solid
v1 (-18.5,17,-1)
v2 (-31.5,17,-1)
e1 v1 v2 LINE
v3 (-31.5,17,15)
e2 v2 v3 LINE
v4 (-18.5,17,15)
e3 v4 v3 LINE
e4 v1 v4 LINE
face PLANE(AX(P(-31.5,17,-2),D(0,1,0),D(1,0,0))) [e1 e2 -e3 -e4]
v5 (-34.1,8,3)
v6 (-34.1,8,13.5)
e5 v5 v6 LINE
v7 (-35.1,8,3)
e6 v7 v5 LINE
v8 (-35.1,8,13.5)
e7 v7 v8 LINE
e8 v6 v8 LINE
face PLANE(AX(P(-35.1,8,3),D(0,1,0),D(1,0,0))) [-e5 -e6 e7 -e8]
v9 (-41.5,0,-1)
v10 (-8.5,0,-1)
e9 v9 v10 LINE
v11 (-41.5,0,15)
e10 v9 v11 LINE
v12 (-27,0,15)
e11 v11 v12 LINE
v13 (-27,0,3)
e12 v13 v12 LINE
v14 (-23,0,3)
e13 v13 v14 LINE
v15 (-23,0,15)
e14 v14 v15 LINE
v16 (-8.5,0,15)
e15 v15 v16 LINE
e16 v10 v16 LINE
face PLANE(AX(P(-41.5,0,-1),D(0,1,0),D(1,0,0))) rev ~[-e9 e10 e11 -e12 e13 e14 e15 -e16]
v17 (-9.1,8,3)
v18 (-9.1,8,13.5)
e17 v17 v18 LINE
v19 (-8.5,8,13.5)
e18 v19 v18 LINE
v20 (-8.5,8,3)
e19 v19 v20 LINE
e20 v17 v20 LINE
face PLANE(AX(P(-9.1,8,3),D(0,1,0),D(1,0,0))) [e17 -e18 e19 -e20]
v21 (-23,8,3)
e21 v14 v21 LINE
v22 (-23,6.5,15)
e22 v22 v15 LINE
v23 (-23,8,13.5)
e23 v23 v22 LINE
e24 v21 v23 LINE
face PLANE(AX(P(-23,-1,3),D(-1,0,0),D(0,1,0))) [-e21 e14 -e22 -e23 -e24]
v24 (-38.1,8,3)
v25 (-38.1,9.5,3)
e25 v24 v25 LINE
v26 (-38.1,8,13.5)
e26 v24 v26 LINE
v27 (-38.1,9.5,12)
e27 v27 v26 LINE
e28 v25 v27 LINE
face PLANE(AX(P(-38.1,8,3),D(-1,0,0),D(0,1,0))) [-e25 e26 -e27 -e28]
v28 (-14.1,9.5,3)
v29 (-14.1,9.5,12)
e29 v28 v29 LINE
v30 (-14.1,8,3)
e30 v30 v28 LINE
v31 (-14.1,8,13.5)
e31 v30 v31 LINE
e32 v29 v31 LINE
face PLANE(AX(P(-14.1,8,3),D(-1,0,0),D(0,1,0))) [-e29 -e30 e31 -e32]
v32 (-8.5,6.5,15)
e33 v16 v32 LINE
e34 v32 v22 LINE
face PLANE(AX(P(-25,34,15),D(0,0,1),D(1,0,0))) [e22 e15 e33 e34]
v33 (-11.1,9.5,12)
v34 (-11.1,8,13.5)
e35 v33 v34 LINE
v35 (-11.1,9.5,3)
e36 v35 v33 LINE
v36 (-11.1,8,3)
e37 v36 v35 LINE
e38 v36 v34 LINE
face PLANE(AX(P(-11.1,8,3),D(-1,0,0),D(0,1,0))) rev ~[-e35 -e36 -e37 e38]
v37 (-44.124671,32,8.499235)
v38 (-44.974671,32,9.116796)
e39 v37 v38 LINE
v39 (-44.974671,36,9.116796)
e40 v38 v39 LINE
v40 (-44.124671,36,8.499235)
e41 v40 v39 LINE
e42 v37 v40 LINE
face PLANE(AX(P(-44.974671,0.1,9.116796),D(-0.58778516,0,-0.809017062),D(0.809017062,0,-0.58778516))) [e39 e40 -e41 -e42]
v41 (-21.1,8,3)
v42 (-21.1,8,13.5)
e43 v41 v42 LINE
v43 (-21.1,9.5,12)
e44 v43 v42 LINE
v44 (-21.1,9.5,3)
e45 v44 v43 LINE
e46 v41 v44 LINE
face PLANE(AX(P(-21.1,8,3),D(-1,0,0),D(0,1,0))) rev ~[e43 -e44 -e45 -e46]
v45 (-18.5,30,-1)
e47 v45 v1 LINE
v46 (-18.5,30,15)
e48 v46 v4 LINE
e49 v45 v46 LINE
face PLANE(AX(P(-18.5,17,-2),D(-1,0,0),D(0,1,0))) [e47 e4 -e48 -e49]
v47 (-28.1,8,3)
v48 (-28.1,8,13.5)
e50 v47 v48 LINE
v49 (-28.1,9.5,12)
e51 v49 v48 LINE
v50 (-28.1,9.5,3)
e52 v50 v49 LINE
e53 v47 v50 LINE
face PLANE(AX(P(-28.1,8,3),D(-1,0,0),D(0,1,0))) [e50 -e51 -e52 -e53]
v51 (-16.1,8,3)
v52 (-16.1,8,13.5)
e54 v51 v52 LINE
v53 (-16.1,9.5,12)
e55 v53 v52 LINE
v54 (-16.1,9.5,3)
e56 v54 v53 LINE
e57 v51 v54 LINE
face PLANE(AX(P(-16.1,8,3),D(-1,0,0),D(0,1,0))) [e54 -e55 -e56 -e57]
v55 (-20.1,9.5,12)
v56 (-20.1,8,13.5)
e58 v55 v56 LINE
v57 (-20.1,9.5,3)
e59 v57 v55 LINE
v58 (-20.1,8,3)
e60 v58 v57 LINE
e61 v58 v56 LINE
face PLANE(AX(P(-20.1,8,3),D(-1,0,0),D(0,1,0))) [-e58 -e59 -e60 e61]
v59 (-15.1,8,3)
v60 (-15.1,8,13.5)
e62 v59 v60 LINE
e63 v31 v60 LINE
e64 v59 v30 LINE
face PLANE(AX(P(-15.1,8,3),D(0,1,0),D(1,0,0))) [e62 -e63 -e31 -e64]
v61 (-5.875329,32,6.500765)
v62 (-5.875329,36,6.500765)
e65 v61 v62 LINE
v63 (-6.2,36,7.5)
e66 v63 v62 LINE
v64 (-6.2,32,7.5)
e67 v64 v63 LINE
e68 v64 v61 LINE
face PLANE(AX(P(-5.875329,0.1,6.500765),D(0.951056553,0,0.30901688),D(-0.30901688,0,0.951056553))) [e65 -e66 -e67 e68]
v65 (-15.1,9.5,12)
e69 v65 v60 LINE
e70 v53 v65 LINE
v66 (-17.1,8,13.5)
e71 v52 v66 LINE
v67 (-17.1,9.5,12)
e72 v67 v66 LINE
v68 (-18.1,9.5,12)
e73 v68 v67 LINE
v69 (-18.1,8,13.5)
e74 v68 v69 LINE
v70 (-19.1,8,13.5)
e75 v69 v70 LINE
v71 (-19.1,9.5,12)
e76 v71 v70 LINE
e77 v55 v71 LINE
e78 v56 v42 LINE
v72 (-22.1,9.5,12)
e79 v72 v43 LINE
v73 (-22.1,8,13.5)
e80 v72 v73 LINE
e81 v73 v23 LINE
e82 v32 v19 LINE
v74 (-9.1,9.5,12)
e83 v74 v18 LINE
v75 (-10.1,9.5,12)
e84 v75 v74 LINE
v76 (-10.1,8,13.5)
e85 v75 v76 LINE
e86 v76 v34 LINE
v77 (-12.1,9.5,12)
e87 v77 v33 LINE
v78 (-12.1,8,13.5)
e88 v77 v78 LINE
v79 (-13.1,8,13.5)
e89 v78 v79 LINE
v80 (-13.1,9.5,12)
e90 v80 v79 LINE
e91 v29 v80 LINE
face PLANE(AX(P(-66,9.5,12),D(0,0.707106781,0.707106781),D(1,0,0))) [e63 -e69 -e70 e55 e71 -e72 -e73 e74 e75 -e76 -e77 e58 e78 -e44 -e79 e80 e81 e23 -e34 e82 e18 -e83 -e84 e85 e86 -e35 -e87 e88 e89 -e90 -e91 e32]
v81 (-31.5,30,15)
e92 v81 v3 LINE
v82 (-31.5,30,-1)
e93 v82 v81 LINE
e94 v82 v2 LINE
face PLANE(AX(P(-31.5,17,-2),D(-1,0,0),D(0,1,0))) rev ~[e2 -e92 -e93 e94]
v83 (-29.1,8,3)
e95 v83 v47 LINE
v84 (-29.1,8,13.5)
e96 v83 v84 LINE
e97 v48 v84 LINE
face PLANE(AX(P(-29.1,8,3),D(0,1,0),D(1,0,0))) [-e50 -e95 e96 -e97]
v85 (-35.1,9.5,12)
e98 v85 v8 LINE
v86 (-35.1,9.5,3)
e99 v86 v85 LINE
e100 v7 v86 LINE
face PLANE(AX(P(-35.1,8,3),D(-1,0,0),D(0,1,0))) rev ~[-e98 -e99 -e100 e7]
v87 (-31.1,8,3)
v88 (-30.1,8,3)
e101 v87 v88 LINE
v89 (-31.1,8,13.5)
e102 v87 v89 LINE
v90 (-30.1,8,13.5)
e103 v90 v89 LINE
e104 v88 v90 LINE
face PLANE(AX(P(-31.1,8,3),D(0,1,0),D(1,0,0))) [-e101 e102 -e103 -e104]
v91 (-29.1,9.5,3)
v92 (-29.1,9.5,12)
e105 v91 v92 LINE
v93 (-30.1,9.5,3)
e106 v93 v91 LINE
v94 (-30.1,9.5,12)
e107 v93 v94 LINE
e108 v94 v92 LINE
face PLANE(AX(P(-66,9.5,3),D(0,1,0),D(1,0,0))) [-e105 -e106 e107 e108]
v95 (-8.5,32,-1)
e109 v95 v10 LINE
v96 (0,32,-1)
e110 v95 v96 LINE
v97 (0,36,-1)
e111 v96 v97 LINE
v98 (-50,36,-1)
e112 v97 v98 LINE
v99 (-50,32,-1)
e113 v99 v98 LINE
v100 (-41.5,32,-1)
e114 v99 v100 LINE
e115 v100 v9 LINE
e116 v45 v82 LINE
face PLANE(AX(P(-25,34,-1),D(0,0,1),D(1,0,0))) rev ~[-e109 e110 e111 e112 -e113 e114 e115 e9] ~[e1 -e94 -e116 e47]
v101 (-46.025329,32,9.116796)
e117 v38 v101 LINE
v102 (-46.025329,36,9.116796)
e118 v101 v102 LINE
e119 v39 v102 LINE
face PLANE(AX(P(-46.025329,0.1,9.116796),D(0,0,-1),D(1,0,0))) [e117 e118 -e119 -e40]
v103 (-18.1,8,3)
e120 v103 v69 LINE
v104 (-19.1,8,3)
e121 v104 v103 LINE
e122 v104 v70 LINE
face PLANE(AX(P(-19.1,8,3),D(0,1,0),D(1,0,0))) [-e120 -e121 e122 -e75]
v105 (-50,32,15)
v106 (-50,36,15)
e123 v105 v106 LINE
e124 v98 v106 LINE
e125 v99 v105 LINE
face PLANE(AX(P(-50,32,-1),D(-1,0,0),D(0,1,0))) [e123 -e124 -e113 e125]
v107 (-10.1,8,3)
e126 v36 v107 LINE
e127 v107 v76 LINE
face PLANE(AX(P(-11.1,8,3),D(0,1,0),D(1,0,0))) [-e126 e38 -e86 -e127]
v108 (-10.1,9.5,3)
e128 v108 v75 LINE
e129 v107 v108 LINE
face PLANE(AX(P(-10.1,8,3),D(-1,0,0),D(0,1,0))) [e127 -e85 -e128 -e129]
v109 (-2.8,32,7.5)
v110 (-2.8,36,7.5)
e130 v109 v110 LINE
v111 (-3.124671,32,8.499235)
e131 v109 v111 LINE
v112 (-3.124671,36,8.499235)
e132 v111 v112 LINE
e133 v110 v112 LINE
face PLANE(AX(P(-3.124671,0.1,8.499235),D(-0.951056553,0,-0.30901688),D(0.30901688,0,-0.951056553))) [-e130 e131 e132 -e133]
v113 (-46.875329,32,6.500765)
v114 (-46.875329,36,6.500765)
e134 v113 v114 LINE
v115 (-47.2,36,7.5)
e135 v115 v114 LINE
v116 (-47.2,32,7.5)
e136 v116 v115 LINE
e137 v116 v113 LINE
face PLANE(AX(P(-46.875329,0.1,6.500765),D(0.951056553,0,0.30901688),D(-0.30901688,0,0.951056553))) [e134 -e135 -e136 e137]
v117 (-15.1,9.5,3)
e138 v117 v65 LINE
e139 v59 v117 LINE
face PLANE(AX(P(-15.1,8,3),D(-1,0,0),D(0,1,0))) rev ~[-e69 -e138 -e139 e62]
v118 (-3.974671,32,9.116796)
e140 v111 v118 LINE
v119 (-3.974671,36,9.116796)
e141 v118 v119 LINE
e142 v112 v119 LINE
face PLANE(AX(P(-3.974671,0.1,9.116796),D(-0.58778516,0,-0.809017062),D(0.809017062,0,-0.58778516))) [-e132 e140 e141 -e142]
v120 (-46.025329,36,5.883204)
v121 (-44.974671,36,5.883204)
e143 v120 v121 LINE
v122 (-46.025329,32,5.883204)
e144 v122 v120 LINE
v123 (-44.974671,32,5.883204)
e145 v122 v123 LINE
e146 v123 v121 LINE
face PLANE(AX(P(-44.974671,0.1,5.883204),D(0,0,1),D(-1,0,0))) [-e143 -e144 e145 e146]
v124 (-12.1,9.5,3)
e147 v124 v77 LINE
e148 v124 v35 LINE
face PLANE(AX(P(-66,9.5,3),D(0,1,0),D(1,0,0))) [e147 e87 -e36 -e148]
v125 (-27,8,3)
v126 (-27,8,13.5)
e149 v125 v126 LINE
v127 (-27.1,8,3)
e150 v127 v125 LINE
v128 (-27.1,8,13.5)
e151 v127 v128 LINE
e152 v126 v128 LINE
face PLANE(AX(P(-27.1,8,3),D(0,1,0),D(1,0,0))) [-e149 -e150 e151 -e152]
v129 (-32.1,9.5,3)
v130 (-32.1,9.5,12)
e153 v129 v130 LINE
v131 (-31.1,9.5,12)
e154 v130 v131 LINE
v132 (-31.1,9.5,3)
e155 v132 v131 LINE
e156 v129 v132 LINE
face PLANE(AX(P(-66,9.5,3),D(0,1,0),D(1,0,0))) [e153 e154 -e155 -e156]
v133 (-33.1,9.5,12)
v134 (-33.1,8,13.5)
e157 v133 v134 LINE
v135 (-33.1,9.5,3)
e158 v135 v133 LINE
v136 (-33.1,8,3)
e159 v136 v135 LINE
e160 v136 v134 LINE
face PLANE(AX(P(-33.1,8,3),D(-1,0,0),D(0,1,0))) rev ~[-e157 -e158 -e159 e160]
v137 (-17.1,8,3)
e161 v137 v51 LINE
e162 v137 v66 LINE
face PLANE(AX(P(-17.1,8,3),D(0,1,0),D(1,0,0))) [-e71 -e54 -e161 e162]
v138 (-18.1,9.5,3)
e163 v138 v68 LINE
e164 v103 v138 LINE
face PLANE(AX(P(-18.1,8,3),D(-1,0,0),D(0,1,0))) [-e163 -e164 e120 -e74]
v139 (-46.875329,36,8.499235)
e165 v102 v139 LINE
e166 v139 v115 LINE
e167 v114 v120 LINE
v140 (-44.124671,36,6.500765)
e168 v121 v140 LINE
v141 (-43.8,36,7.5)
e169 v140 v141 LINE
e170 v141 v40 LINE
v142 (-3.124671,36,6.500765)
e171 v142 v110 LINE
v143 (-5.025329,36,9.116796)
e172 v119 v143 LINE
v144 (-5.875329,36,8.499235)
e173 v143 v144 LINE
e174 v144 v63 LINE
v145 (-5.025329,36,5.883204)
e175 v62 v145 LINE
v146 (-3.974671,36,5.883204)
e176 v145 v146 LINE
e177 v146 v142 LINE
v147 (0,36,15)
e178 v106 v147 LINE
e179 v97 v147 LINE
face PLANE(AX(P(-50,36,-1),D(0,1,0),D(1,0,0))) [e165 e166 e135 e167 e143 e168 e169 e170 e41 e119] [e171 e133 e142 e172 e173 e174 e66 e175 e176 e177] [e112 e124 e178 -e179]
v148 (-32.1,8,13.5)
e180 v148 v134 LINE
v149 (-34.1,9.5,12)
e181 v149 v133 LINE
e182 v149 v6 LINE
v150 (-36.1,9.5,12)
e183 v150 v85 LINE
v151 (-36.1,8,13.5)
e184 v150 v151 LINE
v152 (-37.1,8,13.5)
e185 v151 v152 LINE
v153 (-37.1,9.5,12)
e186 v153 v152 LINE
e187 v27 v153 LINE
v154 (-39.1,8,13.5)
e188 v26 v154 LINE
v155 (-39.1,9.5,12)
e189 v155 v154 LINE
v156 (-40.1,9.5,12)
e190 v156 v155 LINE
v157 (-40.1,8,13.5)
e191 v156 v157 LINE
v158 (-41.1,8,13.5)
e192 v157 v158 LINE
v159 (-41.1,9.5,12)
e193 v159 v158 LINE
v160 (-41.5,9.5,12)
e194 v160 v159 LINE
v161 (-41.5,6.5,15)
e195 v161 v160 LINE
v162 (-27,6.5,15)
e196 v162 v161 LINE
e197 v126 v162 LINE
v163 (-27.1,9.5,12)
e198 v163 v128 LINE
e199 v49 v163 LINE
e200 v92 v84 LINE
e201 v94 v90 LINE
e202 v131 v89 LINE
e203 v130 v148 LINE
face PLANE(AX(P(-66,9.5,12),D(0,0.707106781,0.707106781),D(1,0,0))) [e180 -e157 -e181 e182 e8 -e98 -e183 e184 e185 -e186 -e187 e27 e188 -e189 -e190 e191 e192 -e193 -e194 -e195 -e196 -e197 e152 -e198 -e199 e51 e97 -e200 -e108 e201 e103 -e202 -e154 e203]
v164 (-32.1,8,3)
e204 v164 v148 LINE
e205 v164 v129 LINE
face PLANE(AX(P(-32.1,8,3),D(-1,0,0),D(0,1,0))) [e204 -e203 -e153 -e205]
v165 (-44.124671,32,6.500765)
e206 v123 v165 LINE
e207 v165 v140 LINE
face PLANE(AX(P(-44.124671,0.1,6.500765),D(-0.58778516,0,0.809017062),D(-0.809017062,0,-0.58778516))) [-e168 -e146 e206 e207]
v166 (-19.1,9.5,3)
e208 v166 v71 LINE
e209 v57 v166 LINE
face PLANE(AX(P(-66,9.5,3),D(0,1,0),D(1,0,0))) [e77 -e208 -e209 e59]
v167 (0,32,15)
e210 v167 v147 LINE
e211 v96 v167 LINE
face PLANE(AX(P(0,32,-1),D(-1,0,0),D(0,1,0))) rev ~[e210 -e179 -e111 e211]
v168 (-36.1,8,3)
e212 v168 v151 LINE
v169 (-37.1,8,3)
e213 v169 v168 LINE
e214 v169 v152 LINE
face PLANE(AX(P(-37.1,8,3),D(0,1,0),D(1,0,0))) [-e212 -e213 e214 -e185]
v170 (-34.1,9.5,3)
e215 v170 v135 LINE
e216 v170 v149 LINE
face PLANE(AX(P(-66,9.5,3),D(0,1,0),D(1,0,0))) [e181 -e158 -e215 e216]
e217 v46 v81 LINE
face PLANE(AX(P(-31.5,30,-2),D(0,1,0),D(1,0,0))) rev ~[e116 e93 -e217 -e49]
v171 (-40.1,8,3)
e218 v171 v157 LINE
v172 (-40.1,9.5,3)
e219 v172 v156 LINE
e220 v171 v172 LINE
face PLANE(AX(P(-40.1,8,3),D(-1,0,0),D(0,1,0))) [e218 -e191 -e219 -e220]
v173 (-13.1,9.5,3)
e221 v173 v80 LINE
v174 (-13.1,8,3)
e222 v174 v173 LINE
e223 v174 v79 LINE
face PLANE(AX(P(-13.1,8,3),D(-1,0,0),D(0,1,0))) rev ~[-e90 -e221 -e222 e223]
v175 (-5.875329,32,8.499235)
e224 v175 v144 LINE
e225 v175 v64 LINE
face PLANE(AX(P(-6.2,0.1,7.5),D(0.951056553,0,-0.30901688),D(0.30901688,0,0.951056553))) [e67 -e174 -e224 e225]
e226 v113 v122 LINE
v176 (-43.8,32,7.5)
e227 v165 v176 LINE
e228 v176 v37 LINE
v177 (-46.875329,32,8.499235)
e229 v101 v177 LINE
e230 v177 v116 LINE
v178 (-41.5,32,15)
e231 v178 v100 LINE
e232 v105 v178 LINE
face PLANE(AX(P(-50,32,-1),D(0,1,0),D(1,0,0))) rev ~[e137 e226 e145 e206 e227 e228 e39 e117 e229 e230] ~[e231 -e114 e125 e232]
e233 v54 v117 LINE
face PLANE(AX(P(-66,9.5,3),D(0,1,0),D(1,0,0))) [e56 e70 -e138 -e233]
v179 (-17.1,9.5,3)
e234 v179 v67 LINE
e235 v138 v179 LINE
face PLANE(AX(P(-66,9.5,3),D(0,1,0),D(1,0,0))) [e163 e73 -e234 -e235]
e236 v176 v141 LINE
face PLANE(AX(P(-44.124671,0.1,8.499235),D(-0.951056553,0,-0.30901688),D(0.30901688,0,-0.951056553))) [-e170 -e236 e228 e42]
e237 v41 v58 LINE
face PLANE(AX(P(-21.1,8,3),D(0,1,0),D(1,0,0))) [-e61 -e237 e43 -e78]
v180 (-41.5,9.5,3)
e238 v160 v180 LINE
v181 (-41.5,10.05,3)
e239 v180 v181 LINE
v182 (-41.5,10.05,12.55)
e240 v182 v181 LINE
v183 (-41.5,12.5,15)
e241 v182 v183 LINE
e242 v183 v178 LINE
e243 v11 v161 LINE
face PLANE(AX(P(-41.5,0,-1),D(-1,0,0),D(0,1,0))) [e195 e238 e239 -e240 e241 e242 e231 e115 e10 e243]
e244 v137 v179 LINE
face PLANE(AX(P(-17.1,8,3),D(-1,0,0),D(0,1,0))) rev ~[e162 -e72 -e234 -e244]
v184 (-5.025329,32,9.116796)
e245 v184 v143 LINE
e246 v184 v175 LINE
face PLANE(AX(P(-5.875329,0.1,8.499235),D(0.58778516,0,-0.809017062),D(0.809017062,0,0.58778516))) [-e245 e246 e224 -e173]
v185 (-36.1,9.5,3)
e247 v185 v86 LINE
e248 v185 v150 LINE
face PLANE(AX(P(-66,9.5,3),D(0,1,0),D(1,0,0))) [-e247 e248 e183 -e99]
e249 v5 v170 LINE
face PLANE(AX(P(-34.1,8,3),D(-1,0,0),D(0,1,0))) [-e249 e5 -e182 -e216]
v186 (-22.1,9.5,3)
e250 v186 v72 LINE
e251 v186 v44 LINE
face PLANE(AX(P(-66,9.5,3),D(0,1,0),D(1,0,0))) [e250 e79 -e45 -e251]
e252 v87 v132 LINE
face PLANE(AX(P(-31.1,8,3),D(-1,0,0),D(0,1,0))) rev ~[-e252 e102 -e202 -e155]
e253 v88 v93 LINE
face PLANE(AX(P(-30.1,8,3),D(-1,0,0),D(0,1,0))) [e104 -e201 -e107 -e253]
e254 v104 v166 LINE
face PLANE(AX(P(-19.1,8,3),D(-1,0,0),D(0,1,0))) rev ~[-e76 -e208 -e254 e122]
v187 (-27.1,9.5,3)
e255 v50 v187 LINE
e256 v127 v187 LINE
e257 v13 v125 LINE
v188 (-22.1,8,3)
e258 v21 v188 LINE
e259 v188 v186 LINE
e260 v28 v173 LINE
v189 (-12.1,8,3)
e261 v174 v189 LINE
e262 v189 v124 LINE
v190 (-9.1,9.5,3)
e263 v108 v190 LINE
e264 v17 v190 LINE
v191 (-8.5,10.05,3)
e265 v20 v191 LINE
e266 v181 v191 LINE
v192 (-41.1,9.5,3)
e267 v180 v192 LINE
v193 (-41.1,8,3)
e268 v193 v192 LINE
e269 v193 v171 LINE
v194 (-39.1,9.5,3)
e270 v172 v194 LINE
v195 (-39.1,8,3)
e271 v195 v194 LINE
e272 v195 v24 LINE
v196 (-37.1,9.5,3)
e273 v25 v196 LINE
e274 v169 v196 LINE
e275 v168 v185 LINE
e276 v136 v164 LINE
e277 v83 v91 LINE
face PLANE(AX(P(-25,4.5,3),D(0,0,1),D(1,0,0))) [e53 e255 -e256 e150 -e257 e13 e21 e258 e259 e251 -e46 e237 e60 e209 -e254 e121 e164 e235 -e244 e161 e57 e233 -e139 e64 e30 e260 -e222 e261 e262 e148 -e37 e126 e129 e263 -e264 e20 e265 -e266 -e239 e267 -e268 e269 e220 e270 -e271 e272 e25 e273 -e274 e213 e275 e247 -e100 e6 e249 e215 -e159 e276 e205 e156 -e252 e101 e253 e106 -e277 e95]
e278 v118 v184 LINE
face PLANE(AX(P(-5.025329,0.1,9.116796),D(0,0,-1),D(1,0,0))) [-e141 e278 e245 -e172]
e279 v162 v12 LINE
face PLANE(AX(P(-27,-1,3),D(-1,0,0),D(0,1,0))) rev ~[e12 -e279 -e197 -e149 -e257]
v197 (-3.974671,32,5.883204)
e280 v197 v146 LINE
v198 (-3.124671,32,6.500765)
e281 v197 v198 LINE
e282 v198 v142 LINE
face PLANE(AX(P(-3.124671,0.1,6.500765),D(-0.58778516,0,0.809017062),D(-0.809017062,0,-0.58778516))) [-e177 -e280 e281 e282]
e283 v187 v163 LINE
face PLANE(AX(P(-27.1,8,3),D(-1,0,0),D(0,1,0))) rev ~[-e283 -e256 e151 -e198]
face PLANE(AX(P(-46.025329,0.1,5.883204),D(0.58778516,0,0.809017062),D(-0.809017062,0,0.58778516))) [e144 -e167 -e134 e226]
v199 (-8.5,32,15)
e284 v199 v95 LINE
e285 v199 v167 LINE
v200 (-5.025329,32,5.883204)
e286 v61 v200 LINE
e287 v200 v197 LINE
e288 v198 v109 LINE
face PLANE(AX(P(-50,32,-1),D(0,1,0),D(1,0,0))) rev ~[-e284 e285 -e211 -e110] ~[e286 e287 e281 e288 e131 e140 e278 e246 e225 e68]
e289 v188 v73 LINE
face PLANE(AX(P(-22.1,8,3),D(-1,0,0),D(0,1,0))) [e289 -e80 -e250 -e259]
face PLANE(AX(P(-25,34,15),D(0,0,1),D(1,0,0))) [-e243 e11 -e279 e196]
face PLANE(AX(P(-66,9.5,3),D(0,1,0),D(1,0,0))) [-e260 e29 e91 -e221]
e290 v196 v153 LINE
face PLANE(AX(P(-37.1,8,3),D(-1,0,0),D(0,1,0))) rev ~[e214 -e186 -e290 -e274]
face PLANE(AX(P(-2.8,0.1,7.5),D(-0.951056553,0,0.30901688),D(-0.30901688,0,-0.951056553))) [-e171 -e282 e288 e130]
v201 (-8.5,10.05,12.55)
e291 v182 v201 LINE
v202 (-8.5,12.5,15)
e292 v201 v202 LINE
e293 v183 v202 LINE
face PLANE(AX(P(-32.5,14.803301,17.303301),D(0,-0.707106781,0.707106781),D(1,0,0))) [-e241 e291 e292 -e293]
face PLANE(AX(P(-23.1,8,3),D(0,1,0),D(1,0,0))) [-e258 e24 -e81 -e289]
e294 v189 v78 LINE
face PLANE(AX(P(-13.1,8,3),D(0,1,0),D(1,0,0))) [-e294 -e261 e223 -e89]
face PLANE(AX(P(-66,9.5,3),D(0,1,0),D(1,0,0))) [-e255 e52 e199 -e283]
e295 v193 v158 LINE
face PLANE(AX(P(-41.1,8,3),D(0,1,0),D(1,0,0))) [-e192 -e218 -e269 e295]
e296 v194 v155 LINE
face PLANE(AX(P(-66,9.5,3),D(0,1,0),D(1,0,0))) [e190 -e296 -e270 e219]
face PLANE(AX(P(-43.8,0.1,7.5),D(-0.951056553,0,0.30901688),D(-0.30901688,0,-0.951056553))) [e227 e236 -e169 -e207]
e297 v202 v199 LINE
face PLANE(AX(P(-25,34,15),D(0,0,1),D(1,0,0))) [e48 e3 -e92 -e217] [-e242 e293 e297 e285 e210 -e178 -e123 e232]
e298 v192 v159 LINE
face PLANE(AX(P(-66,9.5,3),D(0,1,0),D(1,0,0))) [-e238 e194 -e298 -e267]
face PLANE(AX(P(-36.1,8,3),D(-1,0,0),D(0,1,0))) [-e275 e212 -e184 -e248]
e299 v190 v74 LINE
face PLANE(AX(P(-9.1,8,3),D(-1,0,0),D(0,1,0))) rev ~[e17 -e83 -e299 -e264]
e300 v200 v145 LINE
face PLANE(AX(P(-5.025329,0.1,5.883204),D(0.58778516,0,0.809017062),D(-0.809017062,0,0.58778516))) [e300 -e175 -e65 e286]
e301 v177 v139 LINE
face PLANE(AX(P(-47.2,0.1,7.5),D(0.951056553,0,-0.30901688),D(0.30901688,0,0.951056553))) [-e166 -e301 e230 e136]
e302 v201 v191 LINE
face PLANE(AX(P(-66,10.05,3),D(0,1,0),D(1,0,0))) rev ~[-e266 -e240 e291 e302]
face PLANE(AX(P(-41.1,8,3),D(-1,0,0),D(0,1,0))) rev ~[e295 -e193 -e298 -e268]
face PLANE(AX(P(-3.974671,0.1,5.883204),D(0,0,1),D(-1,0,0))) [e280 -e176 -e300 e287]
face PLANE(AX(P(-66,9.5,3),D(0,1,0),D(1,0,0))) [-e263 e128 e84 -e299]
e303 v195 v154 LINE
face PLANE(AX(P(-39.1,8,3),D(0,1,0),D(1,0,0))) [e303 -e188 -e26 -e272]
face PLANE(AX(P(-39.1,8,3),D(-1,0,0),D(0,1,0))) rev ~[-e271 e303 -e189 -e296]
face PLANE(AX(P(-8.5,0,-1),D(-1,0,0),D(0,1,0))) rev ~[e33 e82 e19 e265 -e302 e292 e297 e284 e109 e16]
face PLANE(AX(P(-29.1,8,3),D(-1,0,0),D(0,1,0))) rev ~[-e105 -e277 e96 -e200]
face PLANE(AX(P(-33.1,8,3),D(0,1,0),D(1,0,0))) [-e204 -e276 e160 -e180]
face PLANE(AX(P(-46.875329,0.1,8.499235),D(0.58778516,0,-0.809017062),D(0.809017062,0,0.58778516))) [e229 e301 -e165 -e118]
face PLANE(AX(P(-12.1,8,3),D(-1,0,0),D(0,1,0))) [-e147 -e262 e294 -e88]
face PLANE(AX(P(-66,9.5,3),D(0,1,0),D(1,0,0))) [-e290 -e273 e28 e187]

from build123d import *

# Parameters (mm, degrees)
PRISM001_DEPTH          = 50
PRISM_DEPTH             = 50
CUBE004_W               = 67
CUBE004_H               = 15
CUBE004_DEPTH           = 15
CUBE004_PLACEMENT_ANGLE = 45
CUBE006_W               = 1
CUBE006_H               = 1.7
CUBE006_DEPTH           = 15
CUBE007_W               = 1
CUBE007_H               = 1.7
CUBE007_DEPTH           = 15
CUBE008_W               = 1
CUBE008_H               = 1.7
CUBE008_DEPTH           = 15
CUBE009_W               = 1
CUBE009_H               = 1.7
CUBE009_DEPTH           = 15
CUBE010_W               = 1
CUBE010_H               = 1.7
CUBE010_DEPTH           = 15
CUBE011_W               = 1
CUBE011_H               = 1.7
CUBE011_DEPTH           = 15
CUBE012_W               = 1
CUBE012_H               = 1.7
CUBE012_DEPTH           = 15
CUBE013_W               = 1
CUBE013_H               = 1.7
CUBE013_DEPTH           = 15
CUBE014_W               = 1
CUBE014_H               = 1.7
CUBE014_DEPTH           = 15
CUBE015_W               = 1
CUBE015_H               = 1.7
CUBE015_DEPTH           = 15
CUBE016_W               = 1
CUBE016_H               = 1.7
CUBE016_DEPTH           = 15
CUBE017_W               = 1
CUBE017_H               = 1.7
CUBE017_DEPTH           = 15
CUBE018_W               = 1
CUBE018_H               = 1.7
CUBE018_DEPTH           = 15
CUBE019_W               = 1
CUBE019_H               = 1.7
CUBE019_DEPTH           = 15
CUBE020_W               = 1
CUBE020_H               = 1.7
CUBE020_DEPTH           = 15
CUBE021_W               = 1
CUBE021_H               = 1.7
CUBE021_DEPTH           = 15
CUBE022_W               = 1
CUBE022_H               = 1.7
CUBE022_DEPTH           = 15
CUBE023_W               = 1
CUBE023_H               = 1.7
CUBE023_DEPTH           = 15
CUBE024_W               = 1
CUBE024_H               = 1.7
CUBE024_DEPTH           = 15
CUBE025_W               = 1
CUBE025_H               = 1.7
CUBE025_DEPTH           = 15
CUBE026_W               = 1
CUBE026_H               = 1.7
CUBE026_DEPTH           = 15
CUBE027_W               = 1
CUBE027_H               = 1.7
CUBE027_DEPTH           = 15
CUBE028_W               = 1
CUBE028_H               = 1.7
CUBE028_DEPTH           = 15
CUBE005_W               = 1
CUBE005_H               = 1.7
CUBE005_DEPTH           = 15
CUBE029_W               = 4
CUBE029_H               = 11
CUBE029_DEPTH           = 15
CUBE030_W               = 13
CUBE030_H               = 13
CUBE030_DEPTH           = 20
CUBE003_W               = 67
CUBE003_H               = 0.55
CUBE003_DEPTH           = 15
CUBE001_W               = 33
CUBE001_H               = 25
CUBE001_DEPTH           = 16
CUBE002_W               = 50
CUBE002_H               = 4
CUBE002_DEPTH           = 16
CUBE_W                  = 33
CUBE_H                  = 15
CUBE_DEPTH              = 16


with BuildPart() as prism001:
    # prism001 → prism001 (new body)
    with BuildSketch(Plane(origin=(-45.5, 0.1, 7.5), x_dir=(1, 0, 0), z_dir=(0, 1, 0))):
        Polygon((1.7, 0), (1.375329, 0.999235), (0.525329, 1.616796), (-0.525329, 1.616796), (-1.375329, 0.999235), (-1.7, 0), (-1.375329, -0.999235), (-0.525329, -1.616796), (0.525329, -1.616796), (1.375329, -0.999235), align=None)
    extrude(amount=PRISM001_DEPTH)


with BuildPart() as group003:
    # prism → prism (new body)
    with BuildSketch(Plane(origin=(-4.5, 0.1, 7.5), x_dir=(1, 0, 0), z_dir=(0, 1, 0))):
        Polygon((1.7, 0), (1.375329, 0.999235), (0.525329, 1.616796), (-0.525329, 1.616796), (-1.375329, 0.999235), (-1.7, 0), (-1.375329, -0.999235), (-0.525329, -1.616796), (0.525329, -1.616796), (1.375329, -0.999235), align=None)
    extrude(amount=PRISM_DEPTH)

    # Group003: union prism001
    add(prism001.part)


with BuildPart() as cube004:
    # cube004 → cube004 (new body)
    with BuildSketch(Plane.XY):
        with Locations((33.5, 7.5)):
            Rectangle(CUBE004_W, CUBE004_H)
    extrude(amount=CUBE004_DEPTH)


with BuildPart() as cube004_1:
    # cube004 placement: moved
    add(cube004.part.moved(Location((-66, 9.5, 12))).rotate(Axis((-66, 9.5, 12), (1, 0, 0)), CUBE004_PLACEMENT_ANGLE))


with BuildPart() as cube006:
    # cube006 → cube006 (new body)
    with BuildSketch(Plane(origin=(-3.1, 8, 3), x_dir=(1, 0, 0), z_dir=(0, 0, 1))):
        with Locations((0.5, 0.85)):
            Rectangle(CUBE006_W, CUBE006_H)
    extrude(amount=CUBE006_DEPTH)


with BuildPart() as cube007:
    # cube007 → cube007 (new body)
    with BuildSketch(Plane(origin=(-5.1, 8, 3), x_dir=(1, 0, 0), z_dir=(0, 0, 1))):
        with Locations((0.5, 0.85)):
            Rectangle(CUBE007_W, CUBE007_H)
    extrude(amount=CUBE007_DEPTH)


with BuildPart() as cube008:
    # cube008 → cube008 (new body)
    with BuildSketch(Plane(origin=(-7.1, 8, 3), x_dir=(1, 0, 0), z_dir=(0, 0, 1))):
        with Locations((0.5, 0.85)):
            Rectangle(CUBE008_W, CUBE008_H)
    extrude(amount=CUBE008_DEPTH)


with BuildPart() as cube009:
    # cube009 → cube009 (new body)
    with BuildSketch(Plane(origin=(-9.1, 8, 3), x_dir=(1, 0, 0), z_dir=(0, 0, 1))):
        with Locations((0.5, 0.85)):
            Rectangle(CUBE009_W, CUBE009_H)
    extrude(amount=CUBE009_DEPTH)


with BuildPart() as cube010:
    # cube010 → cube010 (new body)
    with BuildSketch(Plane(origin=(-11.1, 8, 3), x_dir=(1, 0, 0), z_dir=(0, 0, 1))):
        with Locations((0.5, 0.85)):
            Rectangle(CUBE010_W, CUBE010_H)
    extrude(amount=CUBE010_DEPTH)


with BuildPart() as cube011:
    # cube011 → cube011 (new body)
    with BuildSketch(Plane(origin=(-13.1, 8, 3), x_dir=(1, 0, 0), z_dir=(0, 0, 1))):
        with Locations((0.5, 0.85)):
            Rectangle(CUBE011_W, CUBE011_H)
    extrude(amount=CUBE011_DEPTH)


with BuildPart() as cube012:
    # cube012 → cube012 (new body)
    with BuildSketch(Plane(origin=(-15.1, 8, 3), x_dir=(1, 0, 0), z_dir=(0, 0, 1))):
        with Locations((0.5, 0.85)):
            Rectangle(CUBE012_W, CUBE012_H)
    extrude(amount=CUBE012_DEPTH)


with BuildPart() as cube013:
    # cube013 → cube013 (new body)
    with BuildSketch(Plane(origin=(-17.1, 8, 3), x_dir=(1, 0, 0), z_dir=(0, 0, 1))):
        with Locations((0.5, 0.85)):
            Rectangle(CUBE013_W, CUBE013_H)
    extrude(amount=CUBE013_DEPTH)


with BuildPart() as cube014:
    # cube014 → cube014 (new body)
    with BuildSketch(Plane(origin=(-19.1, 8, 3), x_dir=(1, 0, 0), z_dir=(0, 0, 1))):
        with Locations((0.5, 0.85)):
            Rectangle(CUBE014_W, CUBE014_H)
    extrude(amount=CUBE014_DEPTH)


with BuildPart() as cube015:
    # cube015 → cube015 (new body)
    with BuildSketch(Plane(origin=(-21.1, 8, 3), x_dir=(1, 0, 0), z_dir=(0, 0, 1))):
        with Locations((0.5, 0.85)):
            Rectangle(CUBE015_W, CUBE015_H)
    extrude(amount=CUBE015_DEPTH)


with BuildPart() as cube016:
    # cube016 → cube016 (new body)
    with BuildSketch(Plane(origin=(-23.1, 8, 3), x_dir=(1, 0, 0), z_dir=(0, 0, 1))):
        with Locations((0.5, 0.85)):
            Rectangle(CUBE016_W, CUBE016_H)
    extrude(amount=CUBE016_DEPTH)


with BuildPart() as cube017:
    # cube017 → cube017 (new body)
    with BuildSketch(Plane(origin=(-25.1, 8, 3), x_dir=(1, 0, 0), z_dir=(0, 0, 1))):
        with Locations((0.5, 0.85)):
            Rectangle(CUBE017_W, CUBE017_H)
    extrude(amount=CUBE017_DEPTH)


with BuildPart() as cube018:
    # cube018 → cube018 (new body)
    with BuildSketch(Plane(origin=(-27.1, 8, 3), x_dir=(1, 0, 0), z_dir=(0, 0, 1))):
        with Locations((0.5, 0.85)):
            Rectangle(CUBE018_W, CUBE018_H)
    extrude(amount=CUBE018_DEPTH)


with BuildPart() as cube019:
    # cube019 → cube019 (new body)
    with BuildSketch(Plane(origin=(-29.1, 8, 3), x_dir=(1, 0, 0), z_dir=(0, 0, 1))):
        with Locations((0.5, 0.85)):
            Rectangle(CUBE019_W, CUBE019_H)
    extrude(amount=CUBE019_DEPTH)


with BuildPart() as cube020:
    # cube020 → cube020 (new body)
    with BuildSketch(Plane(origin=(-31.1, 8, 3), x_dir=(1, 0, 0), z_dir=(0, 0, 1))):
        with Locations((0.5, 0.85)):
            Rectangle(CUBE020_W, CUBE020_H)
    extrude(amount=CUBE020_DEPTH)


with BuildPart() as cube021:
    # cube021 → cube021 (new body)
    with BuildSketch(Plane(origin=(-33.1, 8, 3), x_dir=(1, 0, 0), z_dir=(0, 0, 1))):
        with Locations((0.5, 0.85)):
            Rectangle(CUBE021_W, CUBE021_H)
    extrude(amount=CUBE021_DEPTH)


with BuildPart() as cube022:
    # cube022 → cube022 (new body)
    with BuildSketch(Plane(origin=(-35.1, 8, 3), x_dir=(1, 0, 0), z_dir=(0, 0, 1))):
        with Locations((0.5, 0.85)):
            Rectangle(CUBE022_W, CUBE022_H)
    extrude(amount=CUBE022_DEPTH)


with BuildPart() as cube023:
    # cube023 → cube023 (new body)
    with BuildSketch(Plane(origin=(-37.1, 8, 3), x_dir=(1, 0, 0), z_dir=(0, 0, 1))):
        with Locations((0.5, 0.85)):
            Rectangle(CUBE023_W, CUBE023_H)
    extrude(amount=CUBE023_DEPTH)


with BuildPart() as cube024:
    # cube024 → cube024 (new body)
    with BuildSketch(Plane(origin=(-39.1, 8, 3), x_dir=(1, 0, 0), z_dir=(0, 0, 1))):
        with Locations((0.5, 0.85)):
            Rectangle(CUBE024_W, CUBE024_H)
    extrude(amount=CUBE024_DEPTH)


with BuildPart() as cube025:
    # cube025 → cube025 (new body)
    with BuildSketch(Plane(origin=(-41.1, 8, 3), x_dir=(1, 0, 0), z_dir=(0, 0, 1))):
        with Locations((0.5, 0.85)):
            Rectangle(CUBE025_W, CUBE025_H)
    extrude(amount=CUBE025_DEPTH)


with BuildPart() as cube026:
    # cube026 → cube026 (new body)
    with BuildSketch(Plane(origin=(-43.1, 8, 3), x_dir=(1, 0, 0), z_dir=(0, 0, 1))):
        with Locations((0.5, 0.85)):
            Rectangle(CUBE026_W, CUBE026_H)
    extrude(amount=CUBE026_DEPTH)


with BuildPart() as cube027:
    # cube027 → cube027 (new body)
    with BuildSketch(Plane(origin=(-45.1, 8, 3), x_dir=(1, 0, 0), z_dir=(0, 0, 1))):
        with Locations((0.5, 0.85)):
            Rectangle(CUBE027_W, CUBE027_H)
    extrude(amount=CUBE027_DEPTH)


with BuildPart() as cube028:
    # cube028 → cube028 (new body)
    with BuildSketch(Plane(origin=(-47.1, 8, 3), x_dir=(1, 0, 0), z_dir=(0, 0, 1))):
        with Locations((0.5, 0.85)):
            Rectangle(CUBE028_W, CUBE028_H)
    extrude(amount=CUBE028_DEPTH)


with BuildPart() as group001:
    # cube005 → cube005 (new body)
    with BuildSketch(Plane(origin=(-1.1, 8, 3), x_dir=(1, 0, 0), z_dir=(0, 0, 1))):
        with Locations((0.5, 0.85)):
            Rectangle(CUBE005_W, CUBE005_H)
    extrude(amount=CUBE005_DEPTH)

    # Group001: union cube006, cube007, cube008, cube009, cube010, cube011, cube012, cube013, cube014, cube015, cube016, cube017, cube018, cube019, cube020, cube021, cube022, cube023, cube024, cube025, cube026, cube027, cube028
    add(cube006.part)
    add(cube007.part)
    add(cube008.part)
    add(cube009.part)
    add(cube010.part)
    add(cube011.part)
    add(cube012.part)
    add(cube013.part)
    add(cube014.part)
    add(cube015.part)
    add(cube016.part)
    add(cube017.part)
    add(cube018.part)
    add(cube019.part)
    add(cube020.part)
    add(cube021.part)
    add(cube022.part)
    add(cube023.part)
    add(cube024.part)
    add(cube025.part)
    add(cube026.part)
    add(cube027.part)
    add(cube028.part)


with BuildPart() as cube029:
    # cube029 → cube029 (new body)
    with BuildSketch(Plane(origin=(-27, -1, 3), x_dir=(1, 0, 0), z_dir=(0, 0, 1))):
        with Locations((2, 5.5)):
            Rectangle(CUBE029_W, CUBE029_H)
    extrude(amount=CUBE029_DEPTH)


with BuildPart() as cube030:
    # cube030 → cube030 (new body)
    with BuildSketch(Plane(origin=(-31.5, 17, -2), x_dir=(1, 0, 0), z_dir=(0, 0, 1))):
        with Locations((6.5, 6.5)):
            Rectangle(CUBE030_W, CUBE030_H)
    extrude(amount=CUBE030_DEPTH)


with BuildPart() as union:
    # cube003 → cube003 (new body)
    with BuildSketch(Plane(origin=(-66, 9.5, 3), x_dir=(1, 0, 0), z_dir=(0, 0, 1))):
        with Locations((33.5, 0.275)):
            Rectangle(CUBE003_W, CUBE003_H)
    extrude(amount=CUBE003_DEPTH)

    # Group002: union cube004, Group001, cube029, cube030
    add(cube004_1.part)
    add(group001.part)
    add(cube029.part)
    add(cube030.part)

    # union: union Group003
    add(group003.part)


with BuildPart() as cube001:
    # cube001 → cube001 (new body)
    with BuildSketch(Plane(origin=(-41.5, 11, -1), x_dir=(1, 0, 0), z_dir=(0, 0, 1))):
        with Locations((16.5, 12.5)):
            Rectangle(CUBE001_W, CUBE001_H)
    extrude(amount=CUBE001_DEPTH)


with BuildPart() as cube002:
    # cube002 → cube002 (new body)
    with BuildSketch(Plane(origin=(-50, 32, -1), x_dir=(1, 0, 0), z_dir=(0, 0, 1))):
        with Locations((25, 2)):
            Rectangle(CUBE002_W, CUBE002_H)
    extrude(amount=CUBE002_DEPTH)


with BuildPart() as difference:
    # cube → cube (new body)
    with BuildSketch(Plane(origin=(-41.5, 0, -1), x_dir=(1, 0, 0), z_dir=(0, 0, 1))):
        with Locations((16.5, 7.5)):
            Rectangle(CUBE_W, CUBE_H)
    extrude(amount=CUBE_DEPTH)

    # Group: union cube001, cube002
    add(cube001.part)
    add(cube002.part)

    # difference: cut union
    add(union.part, mode=Mode.SUBTRACT)


solid = difference.part
